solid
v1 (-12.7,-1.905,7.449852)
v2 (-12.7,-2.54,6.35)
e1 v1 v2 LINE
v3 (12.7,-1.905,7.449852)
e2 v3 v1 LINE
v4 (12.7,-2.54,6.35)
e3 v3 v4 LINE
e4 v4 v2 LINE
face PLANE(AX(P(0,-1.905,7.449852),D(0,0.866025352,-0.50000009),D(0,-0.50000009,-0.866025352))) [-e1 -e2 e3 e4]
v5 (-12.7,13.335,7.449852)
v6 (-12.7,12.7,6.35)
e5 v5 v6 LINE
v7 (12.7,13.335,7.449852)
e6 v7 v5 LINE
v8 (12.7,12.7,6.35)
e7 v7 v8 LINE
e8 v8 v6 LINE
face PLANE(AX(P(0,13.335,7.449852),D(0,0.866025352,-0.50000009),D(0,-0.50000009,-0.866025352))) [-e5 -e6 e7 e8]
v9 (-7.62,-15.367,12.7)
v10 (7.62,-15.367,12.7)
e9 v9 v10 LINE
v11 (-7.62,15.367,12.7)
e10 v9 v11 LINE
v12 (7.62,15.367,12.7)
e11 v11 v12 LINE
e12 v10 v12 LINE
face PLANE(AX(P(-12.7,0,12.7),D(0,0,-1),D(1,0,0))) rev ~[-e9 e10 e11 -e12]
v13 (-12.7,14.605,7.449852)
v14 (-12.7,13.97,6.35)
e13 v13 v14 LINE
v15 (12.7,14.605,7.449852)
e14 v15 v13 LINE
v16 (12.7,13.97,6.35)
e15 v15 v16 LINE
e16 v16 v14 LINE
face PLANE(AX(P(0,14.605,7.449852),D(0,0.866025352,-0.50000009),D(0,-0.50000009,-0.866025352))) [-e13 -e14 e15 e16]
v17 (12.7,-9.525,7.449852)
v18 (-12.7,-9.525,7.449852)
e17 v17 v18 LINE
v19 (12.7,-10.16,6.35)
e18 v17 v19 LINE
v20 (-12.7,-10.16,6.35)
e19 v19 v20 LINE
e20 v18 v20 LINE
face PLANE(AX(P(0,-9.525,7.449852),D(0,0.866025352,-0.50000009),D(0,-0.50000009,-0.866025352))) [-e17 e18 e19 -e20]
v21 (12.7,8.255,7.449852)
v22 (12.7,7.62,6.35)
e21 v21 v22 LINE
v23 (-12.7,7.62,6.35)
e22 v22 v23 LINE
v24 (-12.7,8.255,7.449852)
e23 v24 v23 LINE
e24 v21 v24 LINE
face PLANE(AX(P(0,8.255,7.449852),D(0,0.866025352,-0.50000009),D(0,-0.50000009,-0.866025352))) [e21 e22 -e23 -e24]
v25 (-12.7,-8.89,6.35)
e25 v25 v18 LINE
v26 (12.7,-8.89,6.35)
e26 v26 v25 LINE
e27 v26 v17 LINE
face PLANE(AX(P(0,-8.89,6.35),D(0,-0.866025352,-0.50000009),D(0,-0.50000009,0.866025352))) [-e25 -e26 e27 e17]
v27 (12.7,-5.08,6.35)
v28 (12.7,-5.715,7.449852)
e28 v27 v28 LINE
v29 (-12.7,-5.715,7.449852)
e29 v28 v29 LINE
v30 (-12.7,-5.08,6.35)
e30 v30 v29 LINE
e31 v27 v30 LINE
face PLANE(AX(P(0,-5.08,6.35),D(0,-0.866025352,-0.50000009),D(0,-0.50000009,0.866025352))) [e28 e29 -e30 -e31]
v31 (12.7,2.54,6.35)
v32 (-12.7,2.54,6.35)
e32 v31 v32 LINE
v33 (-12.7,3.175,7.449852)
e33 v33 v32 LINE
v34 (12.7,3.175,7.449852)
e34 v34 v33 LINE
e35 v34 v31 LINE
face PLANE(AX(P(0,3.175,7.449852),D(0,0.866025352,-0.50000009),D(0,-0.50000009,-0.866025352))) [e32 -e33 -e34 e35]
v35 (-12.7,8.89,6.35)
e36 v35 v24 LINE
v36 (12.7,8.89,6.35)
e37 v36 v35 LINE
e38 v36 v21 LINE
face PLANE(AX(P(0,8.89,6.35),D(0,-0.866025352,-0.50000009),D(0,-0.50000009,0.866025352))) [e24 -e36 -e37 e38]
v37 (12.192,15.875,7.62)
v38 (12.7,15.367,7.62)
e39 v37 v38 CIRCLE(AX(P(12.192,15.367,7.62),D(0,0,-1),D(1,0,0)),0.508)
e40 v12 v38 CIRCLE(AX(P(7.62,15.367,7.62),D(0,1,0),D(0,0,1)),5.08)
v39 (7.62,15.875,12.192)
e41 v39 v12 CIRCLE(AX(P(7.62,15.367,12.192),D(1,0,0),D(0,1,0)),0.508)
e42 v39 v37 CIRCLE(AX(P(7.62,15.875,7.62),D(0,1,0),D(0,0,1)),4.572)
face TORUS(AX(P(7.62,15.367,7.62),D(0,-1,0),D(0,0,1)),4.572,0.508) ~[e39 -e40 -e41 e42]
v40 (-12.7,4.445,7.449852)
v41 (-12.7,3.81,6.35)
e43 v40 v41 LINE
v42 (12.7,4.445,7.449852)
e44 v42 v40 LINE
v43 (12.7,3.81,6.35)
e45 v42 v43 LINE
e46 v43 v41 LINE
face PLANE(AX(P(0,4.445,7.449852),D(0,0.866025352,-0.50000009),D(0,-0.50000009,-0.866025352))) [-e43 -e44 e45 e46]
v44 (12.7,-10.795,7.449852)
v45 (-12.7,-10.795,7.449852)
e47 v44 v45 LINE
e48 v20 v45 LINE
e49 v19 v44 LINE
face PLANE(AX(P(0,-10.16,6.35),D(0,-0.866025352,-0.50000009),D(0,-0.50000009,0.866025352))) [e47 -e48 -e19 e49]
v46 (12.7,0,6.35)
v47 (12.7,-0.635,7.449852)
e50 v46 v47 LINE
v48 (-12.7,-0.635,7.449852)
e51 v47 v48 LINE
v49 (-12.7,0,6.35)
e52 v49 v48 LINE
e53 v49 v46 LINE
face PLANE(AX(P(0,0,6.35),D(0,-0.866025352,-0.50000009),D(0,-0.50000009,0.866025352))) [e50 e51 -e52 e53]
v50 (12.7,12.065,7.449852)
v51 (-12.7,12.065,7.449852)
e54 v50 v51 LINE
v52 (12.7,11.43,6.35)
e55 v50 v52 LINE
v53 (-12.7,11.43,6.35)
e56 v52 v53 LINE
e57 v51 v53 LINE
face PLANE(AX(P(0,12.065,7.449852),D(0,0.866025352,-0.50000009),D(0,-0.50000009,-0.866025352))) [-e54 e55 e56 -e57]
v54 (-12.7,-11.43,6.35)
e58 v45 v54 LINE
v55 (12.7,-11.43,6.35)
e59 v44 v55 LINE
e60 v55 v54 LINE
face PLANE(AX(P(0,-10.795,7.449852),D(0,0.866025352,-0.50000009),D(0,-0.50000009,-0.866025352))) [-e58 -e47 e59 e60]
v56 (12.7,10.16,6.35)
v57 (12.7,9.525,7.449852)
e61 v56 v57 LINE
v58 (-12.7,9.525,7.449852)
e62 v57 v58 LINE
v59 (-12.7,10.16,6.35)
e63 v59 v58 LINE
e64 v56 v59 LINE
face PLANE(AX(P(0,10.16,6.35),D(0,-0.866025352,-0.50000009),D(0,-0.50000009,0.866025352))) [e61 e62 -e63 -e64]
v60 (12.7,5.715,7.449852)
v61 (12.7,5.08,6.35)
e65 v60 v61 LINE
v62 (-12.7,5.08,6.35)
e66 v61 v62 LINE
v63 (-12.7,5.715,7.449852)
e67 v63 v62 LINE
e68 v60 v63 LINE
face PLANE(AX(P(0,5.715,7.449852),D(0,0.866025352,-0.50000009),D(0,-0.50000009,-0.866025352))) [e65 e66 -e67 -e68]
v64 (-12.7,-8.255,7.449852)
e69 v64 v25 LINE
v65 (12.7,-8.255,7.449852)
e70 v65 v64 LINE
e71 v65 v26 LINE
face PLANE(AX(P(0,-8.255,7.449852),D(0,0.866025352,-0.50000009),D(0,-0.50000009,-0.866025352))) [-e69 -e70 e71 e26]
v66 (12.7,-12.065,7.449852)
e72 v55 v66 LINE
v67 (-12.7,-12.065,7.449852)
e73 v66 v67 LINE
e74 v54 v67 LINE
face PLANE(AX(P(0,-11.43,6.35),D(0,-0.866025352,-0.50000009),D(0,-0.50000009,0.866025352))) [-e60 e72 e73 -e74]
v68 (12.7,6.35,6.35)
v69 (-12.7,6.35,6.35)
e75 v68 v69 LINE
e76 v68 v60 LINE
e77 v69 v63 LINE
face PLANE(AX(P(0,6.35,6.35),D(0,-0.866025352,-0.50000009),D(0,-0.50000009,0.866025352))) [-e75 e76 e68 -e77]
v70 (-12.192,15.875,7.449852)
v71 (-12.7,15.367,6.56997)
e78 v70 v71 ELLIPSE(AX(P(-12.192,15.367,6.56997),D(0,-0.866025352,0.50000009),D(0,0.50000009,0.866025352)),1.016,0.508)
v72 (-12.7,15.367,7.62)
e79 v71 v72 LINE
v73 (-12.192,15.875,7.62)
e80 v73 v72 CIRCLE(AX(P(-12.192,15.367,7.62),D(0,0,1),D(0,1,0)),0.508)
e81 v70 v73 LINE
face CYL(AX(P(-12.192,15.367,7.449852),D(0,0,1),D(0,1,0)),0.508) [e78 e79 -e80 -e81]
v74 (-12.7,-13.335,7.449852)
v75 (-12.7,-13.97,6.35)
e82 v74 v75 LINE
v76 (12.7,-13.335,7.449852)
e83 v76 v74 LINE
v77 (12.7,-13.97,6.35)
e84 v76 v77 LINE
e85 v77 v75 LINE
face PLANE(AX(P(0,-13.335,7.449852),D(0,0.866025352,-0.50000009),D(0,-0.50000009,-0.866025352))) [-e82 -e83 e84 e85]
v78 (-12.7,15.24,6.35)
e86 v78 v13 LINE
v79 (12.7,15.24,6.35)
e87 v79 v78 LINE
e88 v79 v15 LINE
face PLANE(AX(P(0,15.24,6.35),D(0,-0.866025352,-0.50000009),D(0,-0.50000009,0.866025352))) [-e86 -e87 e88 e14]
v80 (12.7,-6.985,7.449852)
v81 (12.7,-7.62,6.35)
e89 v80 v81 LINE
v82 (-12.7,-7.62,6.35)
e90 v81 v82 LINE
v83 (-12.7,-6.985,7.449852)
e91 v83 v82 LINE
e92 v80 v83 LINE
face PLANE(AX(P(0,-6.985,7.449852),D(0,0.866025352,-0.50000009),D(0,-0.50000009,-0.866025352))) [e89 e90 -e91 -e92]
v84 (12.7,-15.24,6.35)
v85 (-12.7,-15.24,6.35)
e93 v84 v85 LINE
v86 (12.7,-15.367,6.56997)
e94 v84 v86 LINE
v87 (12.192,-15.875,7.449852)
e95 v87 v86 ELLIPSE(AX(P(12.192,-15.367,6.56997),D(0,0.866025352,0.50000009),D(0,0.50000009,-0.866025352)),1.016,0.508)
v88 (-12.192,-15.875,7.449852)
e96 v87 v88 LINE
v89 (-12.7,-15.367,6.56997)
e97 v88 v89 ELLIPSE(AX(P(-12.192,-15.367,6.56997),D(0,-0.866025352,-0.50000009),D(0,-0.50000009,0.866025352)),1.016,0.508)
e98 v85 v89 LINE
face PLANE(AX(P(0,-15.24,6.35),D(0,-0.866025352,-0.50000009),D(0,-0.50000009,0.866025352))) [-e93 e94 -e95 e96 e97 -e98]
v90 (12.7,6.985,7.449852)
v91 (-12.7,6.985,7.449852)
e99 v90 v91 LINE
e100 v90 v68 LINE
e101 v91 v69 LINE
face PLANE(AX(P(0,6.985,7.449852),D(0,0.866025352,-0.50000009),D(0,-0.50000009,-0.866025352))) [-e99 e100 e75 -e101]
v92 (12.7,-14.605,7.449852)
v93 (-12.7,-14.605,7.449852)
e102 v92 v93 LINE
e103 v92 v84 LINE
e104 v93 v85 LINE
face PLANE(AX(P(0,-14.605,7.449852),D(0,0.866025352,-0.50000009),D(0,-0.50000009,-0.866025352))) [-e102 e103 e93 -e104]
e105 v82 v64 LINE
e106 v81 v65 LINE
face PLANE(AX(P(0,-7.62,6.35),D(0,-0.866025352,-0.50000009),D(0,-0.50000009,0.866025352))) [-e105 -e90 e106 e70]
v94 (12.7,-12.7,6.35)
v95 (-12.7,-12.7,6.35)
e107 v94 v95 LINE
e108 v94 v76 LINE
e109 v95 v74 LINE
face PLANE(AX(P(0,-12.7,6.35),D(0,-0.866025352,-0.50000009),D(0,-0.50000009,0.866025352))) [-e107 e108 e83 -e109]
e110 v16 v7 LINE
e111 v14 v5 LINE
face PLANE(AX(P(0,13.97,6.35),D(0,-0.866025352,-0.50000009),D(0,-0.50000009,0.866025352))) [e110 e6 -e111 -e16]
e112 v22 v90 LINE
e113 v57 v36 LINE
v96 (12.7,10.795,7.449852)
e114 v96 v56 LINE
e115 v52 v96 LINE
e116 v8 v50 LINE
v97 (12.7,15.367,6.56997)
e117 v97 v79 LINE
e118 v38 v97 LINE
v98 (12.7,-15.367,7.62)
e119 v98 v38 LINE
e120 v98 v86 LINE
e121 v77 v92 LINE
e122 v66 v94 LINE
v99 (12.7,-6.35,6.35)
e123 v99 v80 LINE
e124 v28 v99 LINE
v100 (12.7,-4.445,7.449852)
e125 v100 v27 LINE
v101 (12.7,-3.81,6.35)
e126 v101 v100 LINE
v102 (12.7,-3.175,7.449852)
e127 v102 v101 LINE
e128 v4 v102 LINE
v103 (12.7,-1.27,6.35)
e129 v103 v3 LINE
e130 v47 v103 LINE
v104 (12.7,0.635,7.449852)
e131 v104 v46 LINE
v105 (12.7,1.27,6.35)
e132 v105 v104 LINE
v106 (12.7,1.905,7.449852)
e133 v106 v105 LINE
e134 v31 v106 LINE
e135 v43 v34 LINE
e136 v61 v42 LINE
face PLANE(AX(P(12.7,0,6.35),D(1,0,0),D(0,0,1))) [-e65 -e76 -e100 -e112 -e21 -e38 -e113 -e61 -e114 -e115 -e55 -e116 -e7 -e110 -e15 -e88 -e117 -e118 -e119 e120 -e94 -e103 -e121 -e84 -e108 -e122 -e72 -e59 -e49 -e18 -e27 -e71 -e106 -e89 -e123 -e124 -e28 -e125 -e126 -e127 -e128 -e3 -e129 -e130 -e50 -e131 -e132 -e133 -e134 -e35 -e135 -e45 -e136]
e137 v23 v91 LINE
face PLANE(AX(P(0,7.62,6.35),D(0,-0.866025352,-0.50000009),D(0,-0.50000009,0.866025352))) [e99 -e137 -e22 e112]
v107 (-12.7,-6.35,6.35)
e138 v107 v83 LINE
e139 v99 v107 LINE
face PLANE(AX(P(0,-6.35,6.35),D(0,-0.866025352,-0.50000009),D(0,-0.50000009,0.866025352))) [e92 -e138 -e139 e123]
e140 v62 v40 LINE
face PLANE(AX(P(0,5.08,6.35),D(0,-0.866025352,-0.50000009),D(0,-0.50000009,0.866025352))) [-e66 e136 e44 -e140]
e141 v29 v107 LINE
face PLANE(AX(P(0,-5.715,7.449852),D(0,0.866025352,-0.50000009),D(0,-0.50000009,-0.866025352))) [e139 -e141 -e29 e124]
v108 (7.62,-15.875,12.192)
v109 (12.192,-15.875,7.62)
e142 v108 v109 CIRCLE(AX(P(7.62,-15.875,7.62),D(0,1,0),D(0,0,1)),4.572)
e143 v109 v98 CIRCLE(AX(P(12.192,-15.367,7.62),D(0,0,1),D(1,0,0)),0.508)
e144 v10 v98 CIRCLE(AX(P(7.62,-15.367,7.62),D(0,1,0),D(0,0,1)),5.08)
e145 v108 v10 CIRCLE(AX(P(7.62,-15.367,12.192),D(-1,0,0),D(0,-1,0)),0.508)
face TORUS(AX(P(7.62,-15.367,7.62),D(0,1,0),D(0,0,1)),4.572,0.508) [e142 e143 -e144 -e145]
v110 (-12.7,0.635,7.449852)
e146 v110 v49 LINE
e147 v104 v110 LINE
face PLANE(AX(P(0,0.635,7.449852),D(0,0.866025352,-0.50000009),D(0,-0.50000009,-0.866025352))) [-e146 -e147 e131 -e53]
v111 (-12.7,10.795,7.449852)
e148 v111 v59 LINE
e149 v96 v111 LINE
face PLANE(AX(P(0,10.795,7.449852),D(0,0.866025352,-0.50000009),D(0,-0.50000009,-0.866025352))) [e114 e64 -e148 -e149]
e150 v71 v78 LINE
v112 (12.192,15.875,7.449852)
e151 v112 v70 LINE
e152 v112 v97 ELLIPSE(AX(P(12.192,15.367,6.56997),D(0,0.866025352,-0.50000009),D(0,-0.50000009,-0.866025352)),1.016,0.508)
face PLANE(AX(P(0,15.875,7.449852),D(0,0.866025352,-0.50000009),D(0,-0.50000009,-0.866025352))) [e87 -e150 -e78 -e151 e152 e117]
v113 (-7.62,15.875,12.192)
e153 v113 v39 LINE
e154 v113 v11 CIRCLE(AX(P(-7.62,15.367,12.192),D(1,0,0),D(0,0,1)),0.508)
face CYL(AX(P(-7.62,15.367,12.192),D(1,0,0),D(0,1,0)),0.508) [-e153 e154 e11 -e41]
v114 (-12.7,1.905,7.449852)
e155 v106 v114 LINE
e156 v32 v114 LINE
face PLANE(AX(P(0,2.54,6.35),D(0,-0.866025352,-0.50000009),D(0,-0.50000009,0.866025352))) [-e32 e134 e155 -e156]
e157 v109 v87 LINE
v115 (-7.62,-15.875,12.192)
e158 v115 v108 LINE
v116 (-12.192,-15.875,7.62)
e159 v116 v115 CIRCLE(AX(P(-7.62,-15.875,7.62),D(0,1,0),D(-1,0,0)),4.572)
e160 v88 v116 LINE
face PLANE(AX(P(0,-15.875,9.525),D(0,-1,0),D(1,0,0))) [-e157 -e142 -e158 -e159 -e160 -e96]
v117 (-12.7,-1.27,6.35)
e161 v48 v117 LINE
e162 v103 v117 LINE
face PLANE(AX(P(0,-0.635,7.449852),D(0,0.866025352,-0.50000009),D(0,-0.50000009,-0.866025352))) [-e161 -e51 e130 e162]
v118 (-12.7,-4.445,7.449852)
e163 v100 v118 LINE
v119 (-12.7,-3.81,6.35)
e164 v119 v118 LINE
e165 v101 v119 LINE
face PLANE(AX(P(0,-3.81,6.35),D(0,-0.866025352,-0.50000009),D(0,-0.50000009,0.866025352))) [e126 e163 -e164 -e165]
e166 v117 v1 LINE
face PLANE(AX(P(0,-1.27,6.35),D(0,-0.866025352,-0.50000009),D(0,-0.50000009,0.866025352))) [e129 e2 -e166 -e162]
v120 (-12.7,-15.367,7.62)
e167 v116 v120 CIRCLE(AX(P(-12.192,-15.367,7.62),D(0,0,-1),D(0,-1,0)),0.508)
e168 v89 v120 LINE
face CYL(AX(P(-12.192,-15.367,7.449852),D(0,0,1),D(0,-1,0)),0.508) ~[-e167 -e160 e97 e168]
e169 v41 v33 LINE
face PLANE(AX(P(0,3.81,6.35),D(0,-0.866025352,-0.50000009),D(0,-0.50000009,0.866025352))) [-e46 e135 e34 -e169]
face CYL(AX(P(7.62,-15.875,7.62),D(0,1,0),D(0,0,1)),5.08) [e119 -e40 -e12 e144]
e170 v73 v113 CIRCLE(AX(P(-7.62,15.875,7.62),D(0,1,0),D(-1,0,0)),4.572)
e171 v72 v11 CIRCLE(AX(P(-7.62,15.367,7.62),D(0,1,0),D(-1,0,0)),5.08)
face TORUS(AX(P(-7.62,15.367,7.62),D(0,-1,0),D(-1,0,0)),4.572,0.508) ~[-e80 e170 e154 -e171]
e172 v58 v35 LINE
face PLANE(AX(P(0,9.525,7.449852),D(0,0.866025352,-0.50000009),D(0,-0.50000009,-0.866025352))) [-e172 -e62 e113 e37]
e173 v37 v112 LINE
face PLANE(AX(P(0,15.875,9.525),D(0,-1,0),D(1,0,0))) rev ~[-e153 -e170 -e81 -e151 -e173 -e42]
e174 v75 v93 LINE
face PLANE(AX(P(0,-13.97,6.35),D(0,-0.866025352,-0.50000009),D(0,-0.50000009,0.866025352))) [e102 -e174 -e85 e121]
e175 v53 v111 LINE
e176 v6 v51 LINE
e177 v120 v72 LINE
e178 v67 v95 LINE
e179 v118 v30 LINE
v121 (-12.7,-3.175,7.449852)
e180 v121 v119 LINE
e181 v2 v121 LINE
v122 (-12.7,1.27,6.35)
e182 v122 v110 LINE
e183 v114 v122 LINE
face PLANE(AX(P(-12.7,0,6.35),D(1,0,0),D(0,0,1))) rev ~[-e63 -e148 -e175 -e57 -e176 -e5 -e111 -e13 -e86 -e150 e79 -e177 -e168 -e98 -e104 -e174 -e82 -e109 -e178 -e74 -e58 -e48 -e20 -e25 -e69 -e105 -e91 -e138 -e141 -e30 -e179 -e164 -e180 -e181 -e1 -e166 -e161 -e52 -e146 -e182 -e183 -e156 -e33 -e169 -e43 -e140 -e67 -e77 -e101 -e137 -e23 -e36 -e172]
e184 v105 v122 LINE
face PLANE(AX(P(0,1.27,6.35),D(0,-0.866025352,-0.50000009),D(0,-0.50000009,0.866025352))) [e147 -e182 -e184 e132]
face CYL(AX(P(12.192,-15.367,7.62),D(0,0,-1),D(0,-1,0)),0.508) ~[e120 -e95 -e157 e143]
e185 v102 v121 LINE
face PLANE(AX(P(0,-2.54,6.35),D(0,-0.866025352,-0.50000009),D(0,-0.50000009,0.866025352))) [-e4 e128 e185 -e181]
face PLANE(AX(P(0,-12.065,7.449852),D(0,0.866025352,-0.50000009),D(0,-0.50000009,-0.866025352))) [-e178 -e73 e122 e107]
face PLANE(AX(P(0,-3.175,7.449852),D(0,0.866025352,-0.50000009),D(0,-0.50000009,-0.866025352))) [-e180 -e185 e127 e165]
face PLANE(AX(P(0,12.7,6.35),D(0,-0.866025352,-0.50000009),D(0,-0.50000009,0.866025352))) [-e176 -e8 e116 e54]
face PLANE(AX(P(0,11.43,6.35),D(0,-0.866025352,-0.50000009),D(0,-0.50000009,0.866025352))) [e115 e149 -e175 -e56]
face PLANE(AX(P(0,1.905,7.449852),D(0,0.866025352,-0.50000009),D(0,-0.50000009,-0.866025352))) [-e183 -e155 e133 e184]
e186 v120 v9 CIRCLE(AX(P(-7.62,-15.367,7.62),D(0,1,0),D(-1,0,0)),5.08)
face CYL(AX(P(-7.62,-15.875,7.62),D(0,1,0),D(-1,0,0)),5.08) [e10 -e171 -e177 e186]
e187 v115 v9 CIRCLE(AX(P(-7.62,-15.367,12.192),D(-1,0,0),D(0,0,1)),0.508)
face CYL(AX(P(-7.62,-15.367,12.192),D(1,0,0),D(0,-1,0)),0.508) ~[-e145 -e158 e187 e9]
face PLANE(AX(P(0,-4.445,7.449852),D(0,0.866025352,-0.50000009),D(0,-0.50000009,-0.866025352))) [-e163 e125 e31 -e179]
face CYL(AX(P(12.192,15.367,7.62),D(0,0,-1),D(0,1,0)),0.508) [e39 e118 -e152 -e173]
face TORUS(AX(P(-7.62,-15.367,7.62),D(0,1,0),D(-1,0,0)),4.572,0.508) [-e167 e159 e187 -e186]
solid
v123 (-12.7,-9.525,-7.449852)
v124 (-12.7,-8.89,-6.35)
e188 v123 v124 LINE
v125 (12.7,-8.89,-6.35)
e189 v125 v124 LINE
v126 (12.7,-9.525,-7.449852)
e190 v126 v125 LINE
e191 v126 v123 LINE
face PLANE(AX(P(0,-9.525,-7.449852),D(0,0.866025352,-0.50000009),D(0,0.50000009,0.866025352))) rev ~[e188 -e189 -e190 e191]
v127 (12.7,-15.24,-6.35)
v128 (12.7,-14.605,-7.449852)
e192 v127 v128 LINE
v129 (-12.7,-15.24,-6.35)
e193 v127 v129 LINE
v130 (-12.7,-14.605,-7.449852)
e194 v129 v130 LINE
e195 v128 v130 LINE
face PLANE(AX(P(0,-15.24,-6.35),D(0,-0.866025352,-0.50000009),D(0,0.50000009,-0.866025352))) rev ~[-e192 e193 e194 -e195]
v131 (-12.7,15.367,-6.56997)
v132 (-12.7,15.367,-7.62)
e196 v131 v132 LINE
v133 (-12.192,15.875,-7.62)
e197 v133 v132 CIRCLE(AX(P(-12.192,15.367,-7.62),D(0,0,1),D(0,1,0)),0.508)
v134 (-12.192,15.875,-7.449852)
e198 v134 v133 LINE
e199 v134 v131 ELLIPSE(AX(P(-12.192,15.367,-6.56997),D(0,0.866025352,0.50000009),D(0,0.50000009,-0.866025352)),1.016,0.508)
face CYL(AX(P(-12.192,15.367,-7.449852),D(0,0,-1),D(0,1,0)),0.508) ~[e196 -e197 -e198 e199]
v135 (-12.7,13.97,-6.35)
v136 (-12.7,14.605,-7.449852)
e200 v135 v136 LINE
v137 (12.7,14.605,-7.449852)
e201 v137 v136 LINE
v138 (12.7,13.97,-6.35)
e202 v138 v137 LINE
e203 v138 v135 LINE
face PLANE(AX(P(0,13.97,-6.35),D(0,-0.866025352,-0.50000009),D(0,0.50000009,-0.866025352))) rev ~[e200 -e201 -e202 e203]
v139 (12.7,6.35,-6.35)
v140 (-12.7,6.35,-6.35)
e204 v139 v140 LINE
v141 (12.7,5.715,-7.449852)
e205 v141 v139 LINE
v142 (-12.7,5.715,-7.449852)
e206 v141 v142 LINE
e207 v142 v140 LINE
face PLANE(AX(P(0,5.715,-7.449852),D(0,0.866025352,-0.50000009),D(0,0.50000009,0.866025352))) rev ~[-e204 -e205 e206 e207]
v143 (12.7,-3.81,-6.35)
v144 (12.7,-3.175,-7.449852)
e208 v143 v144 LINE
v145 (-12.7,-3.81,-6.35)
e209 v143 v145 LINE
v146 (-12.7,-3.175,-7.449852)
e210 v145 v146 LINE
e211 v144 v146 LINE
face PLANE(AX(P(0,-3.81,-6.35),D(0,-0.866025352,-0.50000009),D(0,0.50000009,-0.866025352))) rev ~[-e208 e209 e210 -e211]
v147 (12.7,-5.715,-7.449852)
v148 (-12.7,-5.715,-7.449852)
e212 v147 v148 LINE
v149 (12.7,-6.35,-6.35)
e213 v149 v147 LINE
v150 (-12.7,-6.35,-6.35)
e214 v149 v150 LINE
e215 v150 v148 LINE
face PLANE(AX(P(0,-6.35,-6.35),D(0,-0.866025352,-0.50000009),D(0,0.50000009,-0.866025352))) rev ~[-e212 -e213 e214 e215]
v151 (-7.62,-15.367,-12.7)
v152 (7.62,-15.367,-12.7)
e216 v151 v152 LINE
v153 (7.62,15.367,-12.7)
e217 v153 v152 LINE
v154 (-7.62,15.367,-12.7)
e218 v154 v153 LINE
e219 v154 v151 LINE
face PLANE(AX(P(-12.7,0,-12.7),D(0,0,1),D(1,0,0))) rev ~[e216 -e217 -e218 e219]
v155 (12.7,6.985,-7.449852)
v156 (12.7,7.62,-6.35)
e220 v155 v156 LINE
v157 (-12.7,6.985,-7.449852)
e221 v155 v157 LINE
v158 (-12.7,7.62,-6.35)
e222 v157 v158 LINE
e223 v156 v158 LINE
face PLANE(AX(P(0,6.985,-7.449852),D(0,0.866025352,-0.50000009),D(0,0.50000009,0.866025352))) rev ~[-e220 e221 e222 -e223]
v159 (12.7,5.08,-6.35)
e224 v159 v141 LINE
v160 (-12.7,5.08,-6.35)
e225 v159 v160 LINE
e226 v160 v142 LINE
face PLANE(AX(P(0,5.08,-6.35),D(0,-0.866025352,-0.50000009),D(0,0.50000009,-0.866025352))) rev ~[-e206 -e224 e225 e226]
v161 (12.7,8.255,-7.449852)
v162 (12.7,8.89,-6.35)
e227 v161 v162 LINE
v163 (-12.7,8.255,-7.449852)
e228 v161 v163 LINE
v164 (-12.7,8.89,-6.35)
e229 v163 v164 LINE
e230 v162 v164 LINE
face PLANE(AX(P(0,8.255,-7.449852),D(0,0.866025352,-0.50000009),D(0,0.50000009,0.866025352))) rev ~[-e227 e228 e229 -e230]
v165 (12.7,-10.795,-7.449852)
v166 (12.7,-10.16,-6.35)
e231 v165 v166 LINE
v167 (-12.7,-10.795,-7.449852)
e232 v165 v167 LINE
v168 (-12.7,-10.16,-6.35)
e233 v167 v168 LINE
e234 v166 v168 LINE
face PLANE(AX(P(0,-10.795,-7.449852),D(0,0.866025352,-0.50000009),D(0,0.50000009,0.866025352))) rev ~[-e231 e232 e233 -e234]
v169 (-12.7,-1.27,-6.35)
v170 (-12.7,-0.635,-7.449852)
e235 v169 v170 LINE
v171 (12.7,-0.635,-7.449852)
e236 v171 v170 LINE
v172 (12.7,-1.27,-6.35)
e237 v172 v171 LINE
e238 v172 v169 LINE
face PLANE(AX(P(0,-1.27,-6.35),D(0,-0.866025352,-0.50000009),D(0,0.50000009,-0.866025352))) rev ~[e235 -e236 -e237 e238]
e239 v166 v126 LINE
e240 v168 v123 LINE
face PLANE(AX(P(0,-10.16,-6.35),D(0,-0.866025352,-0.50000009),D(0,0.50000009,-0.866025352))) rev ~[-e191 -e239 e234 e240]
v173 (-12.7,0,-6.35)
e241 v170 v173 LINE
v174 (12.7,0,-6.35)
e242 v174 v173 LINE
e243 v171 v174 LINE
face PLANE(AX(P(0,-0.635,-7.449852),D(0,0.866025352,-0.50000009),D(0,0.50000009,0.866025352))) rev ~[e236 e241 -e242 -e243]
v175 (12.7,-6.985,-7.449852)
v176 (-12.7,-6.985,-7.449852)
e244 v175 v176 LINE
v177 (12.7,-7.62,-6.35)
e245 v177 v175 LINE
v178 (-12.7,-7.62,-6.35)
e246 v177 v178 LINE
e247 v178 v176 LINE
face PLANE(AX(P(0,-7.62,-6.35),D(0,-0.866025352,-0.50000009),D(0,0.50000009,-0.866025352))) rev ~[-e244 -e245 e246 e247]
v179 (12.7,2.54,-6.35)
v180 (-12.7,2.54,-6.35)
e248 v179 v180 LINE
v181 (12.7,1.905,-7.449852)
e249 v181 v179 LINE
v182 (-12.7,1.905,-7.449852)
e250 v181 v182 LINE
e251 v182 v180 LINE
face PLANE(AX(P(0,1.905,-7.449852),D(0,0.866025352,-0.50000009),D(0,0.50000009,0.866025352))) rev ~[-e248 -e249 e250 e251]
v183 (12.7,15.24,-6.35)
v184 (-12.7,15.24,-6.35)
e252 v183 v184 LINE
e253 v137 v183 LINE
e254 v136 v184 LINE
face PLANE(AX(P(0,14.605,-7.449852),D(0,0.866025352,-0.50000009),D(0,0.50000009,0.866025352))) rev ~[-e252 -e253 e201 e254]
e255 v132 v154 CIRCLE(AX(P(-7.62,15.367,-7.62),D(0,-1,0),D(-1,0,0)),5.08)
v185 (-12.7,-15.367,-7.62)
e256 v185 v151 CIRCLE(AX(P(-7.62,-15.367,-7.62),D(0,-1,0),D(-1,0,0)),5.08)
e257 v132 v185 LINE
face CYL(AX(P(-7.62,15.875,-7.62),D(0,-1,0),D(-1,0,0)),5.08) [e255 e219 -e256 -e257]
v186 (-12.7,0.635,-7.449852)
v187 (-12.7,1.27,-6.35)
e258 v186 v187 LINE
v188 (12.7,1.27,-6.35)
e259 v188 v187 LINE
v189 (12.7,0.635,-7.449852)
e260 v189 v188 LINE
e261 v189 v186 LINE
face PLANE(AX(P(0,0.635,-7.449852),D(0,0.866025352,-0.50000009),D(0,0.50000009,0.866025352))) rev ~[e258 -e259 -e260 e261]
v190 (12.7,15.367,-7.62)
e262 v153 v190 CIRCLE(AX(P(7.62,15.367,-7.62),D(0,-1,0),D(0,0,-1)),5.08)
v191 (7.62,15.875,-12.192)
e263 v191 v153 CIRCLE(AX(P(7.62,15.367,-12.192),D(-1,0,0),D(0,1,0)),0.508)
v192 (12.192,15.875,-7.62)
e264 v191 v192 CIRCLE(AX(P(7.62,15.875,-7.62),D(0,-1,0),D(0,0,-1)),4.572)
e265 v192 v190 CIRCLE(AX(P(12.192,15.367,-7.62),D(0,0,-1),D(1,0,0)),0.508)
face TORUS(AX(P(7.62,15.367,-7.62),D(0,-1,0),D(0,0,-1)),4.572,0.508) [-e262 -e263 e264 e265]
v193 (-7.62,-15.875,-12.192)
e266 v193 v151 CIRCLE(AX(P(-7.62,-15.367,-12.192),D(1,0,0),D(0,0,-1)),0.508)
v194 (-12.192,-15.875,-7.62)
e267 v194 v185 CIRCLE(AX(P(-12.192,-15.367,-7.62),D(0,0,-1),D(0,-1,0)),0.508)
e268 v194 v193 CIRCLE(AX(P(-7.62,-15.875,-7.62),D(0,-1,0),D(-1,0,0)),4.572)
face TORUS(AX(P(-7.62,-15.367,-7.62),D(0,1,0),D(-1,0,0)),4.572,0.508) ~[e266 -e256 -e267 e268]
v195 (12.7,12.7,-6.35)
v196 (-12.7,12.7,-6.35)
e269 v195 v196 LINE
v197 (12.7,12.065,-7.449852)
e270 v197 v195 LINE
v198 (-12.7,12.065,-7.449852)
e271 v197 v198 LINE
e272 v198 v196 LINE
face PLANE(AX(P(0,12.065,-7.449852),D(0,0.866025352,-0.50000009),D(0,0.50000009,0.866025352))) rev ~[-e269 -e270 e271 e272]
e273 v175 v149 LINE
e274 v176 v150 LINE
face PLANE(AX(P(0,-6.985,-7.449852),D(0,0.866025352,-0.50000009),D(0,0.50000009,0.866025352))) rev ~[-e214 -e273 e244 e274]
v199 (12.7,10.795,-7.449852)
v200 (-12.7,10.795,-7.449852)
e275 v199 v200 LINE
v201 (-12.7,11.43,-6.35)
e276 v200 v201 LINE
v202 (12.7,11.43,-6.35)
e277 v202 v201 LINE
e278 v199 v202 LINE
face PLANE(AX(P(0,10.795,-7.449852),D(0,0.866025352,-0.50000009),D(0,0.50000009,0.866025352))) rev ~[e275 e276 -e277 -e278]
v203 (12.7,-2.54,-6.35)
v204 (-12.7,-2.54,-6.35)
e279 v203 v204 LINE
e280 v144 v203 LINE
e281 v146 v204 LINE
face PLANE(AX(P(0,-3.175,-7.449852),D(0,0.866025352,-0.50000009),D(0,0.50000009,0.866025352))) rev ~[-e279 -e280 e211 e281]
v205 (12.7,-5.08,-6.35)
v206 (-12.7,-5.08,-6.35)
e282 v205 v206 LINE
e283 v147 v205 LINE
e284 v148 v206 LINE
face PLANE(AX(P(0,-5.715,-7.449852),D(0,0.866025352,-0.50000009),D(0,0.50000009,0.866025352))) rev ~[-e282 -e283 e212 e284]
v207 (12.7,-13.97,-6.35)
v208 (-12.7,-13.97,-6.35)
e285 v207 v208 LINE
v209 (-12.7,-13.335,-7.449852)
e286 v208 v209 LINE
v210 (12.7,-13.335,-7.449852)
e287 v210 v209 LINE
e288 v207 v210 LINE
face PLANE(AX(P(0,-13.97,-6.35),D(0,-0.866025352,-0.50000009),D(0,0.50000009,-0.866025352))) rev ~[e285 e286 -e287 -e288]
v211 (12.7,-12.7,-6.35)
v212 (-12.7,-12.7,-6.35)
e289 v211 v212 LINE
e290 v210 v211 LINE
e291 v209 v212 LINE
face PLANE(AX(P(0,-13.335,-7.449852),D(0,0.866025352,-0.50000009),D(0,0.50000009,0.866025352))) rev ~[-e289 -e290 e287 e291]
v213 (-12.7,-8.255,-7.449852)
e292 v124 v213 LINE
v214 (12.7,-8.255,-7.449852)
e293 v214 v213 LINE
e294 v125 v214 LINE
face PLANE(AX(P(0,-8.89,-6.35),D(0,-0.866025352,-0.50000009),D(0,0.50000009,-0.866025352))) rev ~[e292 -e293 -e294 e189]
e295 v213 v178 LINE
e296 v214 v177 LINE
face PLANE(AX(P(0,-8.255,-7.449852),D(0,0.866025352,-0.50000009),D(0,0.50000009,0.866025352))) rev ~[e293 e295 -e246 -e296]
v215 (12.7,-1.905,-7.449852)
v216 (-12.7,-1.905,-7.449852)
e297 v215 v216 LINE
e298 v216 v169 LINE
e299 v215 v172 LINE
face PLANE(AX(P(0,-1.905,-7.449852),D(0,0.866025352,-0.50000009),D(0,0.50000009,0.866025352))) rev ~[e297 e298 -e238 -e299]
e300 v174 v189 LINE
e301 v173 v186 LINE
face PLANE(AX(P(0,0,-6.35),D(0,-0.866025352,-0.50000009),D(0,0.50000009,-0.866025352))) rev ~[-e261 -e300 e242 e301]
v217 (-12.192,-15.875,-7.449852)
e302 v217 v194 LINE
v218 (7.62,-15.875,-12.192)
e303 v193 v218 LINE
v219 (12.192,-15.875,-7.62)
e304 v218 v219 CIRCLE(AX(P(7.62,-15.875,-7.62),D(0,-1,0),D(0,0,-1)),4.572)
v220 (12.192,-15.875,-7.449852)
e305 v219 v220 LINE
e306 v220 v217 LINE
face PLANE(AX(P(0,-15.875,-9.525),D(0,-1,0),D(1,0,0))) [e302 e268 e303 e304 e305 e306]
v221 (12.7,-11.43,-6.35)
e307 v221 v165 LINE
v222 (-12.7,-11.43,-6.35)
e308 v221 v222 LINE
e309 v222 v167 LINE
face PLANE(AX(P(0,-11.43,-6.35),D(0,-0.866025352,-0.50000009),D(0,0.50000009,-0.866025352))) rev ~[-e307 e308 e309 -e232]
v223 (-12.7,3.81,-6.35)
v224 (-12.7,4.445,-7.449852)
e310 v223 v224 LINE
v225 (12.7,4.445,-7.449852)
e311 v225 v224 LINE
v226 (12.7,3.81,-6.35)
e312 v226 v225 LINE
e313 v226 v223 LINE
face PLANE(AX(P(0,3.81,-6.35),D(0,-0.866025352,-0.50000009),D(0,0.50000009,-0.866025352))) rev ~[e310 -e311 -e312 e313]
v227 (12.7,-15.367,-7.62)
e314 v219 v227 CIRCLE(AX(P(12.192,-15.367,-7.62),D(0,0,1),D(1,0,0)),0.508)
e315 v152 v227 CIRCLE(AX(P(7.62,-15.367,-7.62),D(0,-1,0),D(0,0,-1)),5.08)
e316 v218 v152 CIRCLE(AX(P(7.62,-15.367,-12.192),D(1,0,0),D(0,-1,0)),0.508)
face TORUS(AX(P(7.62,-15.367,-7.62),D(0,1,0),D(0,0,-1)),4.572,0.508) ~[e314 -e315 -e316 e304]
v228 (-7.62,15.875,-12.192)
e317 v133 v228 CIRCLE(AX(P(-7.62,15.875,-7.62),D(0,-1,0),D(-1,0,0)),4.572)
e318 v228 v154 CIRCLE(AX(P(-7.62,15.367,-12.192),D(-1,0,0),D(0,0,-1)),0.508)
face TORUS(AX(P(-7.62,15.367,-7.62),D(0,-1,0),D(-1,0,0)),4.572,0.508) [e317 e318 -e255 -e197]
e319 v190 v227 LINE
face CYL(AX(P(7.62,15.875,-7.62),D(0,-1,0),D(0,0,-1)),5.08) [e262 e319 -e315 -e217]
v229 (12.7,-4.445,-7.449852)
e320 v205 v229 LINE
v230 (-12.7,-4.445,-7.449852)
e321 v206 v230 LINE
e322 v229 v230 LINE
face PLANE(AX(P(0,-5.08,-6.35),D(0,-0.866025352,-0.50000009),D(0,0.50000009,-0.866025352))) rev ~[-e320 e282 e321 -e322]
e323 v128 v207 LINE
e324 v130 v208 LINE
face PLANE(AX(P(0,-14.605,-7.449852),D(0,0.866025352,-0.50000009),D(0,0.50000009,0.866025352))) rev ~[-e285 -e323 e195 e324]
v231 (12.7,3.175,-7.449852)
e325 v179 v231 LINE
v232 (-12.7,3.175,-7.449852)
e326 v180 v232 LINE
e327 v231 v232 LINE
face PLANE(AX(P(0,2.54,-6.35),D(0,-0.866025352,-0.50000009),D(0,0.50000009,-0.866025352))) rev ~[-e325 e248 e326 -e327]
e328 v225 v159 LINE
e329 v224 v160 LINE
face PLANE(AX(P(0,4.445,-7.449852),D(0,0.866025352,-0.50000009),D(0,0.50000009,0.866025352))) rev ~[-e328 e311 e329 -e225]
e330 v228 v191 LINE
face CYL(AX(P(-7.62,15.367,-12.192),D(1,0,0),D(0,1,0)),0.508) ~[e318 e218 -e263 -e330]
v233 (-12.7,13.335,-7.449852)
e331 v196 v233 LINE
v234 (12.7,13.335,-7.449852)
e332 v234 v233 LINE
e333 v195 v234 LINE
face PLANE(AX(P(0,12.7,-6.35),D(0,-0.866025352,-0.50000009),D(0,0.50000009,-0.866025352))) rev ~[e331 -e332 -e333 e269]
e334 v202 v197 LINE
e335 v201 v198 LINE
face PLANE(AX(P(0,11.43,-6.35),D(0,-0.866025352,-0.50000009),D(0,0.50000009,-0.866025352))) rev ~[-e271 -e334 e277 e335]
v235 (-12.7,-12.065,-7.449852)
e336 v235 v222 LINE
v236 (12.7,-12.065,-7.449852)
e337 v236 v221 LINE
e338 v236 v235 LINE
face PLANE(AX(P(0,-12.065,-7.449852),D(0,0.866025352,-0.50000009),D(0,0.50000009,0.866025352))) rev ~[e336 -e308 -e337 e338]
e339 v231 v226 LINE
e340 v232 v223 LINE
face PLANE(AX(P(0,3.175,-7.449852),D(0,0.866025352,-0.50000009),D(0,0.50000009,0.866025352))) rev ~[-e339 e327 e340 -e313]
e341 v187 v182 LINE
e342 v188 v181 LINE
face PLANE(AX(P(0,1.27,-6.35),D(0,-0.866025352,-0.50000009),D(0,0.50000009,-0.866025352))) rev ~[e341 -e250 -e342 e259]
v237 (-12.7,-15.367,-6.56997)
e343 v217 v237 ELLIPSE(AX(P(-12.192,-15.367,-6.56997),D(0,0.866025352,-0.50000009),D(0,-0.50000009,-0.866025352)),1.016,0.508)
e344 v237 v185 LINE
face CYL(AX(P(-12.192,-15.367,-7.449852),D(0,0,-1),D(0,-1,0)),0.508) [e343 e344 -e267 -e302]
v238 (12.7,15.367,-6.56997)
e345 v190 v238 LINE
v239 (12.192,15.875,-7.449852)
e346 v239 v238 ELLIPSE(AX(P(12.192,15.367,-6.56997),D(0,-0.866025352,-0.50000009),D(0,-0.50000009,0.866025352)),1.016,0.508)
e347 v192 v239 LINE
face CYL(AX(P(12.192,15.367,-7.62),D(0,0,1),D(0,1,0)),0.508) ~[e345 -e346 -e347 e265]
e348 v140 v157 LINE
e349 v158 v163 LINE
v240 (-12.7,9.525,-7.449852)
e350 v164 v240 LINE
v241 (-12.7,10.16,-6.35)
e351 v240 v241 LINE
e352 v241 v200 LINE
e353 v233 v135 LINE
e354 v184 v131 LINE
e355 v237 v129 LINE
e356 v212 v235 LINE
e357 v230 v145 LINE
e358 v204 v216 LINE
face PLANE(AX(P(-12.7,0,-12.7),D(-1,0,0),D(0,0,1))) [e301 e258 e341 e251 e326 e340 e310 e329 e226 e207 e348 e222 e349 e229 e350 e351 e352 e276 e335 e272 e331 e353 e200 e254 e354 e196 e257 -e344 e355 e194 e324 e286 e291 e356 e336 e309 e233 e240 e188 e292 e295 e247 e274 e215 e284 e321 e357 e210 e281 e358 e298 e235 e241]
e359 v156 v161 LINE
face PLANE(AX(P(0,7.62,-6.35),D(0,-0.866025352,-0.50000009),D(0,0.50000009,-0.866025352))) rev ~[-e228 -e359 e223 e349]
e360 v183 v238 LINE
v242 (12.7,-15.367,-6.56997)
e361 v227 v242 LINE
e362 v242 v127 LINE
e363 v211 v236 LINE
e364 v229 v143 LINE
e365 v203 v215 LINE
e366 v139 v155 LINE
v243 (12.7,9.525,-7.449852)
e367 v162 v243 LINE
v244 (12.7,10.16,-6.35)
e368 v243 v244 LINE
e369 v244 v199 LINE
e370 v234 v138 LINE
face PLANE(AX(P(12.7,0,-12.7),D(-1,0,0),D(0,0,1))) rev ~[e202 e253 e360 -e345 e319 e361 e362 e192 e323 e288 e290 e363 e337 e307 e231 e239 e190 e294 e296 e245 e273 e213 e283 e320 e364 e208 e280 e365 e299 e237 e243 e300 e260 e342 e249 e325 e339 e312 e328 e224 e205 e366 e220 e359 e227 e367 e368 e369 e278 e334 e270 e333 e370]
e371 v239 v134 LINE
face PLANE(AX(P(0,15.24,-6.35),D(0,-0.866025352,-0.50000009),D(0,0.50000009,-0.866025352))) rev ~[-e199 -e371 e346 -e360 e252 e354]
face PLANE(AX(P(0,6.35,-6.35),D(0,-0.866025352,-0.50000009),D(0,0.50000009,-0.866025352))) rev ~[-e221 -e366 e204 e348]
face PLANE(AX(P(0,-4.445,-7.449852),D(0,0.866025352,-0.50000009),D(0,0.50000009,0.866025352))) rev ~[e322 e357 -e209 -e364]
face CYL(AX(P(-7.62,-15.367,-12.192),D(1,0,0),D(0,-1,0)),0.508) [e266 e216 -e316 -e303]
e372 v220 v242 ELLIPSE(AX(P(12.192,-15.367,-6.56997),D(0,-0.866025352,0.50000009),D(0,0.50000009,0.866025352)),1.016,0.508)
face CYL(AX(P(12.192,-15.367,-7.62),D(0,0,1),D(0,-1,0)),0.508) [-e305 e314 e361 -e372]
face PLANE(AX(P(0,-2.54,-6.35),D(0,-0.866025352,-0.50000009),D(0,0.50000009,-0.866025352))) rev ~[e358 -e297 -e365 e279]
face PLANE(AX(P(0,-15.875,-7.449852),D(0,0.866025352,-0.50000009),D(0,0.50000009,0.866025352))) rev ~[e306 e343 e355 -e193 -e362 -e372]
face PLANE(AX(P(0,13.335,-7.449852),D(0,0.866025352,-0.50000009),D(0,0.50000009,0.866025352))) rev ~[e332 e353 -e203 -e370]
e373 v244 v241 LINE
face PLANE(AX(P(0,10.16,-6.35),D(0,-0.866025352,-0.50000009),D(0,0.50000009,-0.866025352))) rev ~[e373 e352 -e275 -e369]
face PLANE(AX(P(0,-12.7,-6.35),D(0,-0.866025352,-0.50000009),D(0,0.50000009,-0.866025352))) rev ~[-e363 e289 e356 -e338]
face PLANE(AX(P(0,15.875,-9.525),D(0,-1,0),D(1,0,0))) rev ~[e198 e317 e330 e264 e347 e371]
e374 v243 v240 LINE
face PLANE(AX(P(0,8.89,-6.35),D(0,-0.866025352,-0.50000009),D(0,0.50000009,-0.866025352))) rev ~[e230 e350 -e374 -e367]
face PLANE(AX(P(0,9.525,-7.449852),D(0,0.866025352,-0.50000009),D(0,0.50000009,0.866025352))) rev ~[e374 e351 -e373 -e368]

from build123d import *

# Parameters (mm, degrees)
F0_W     = 25.4
F0_H     = 6.35
F1_DEPTH = 15.875
F3_DEPTH = 12.7
F4_R     = 5.08
F5_R     = 0.508


with BuildPart() as f1:
    # F0 (on Front) → F1 (new body, symmetric)
    with BuildSketch(Plane.XZ):
        with Locations((0, -9.525)):
            Rectangle(F0_W, F0_H)
        with Locations((0, 9.525)):
            Rectangle(F0_W, F0_H)
    extrude(amount=F1_DEPTH, both=True)

    # F2 (on Right) → F3 (cut, symmetric)
    with BuildSketch(Plane.YZ):
        Polygon((-1.27, 6.35), (0, 6.35), (-0.635, 7.449852), align=None)
        Polygon((29.845, 7.449852), (29.21, 6.35), (30.48, 6.35), align=None)
        Polygon((28.575, 7.449852), (27.94, 6.35), (29.21, 6.35), align=None)
        Polygon((27.305, 7.449852), (26.67, 6.35), (27.94, 6.35), align=None)
        Polygon((26.035, 7.449852), (25.4, 6.35), (26.67, 6.35), align=None)
        Polygon((24.765, 7.449852), (24.13, 6.35), (25.4, 6.35), align=None)
        Polygon((23.495, 7.449852), (22.86, 6.35), (24.13, 6.35), align=None)
        Polygon((22.225, 7.449852), (21.59, 6.35), (22.86, 6.35), align=None)
        Polygon((20.955, 7.449852), (20.32, 6.35), (21.59, 6.35), align=None)
        Polygon((19.685, 7.449852), (19.05, 6.35), (20.32, 6.35), align=None)
        Polygon((18.415, 7.449852), (17.78, 6.35), (19.05, 6.35), align=None)
        Polygon((17.145, 7.449852), (16.51, 6.35), (17.78, 6.35), align=None)
        Polygon((15.875, 7.449852), (15.24, 6.35), (16.51, 6.35), align=None)
        Polygon((14.605, 7.449852), (13.97, 6.35), (15.24, 6.35), align=None)
        Polygon((13.335, 7.449852), (12.7, 6.35), (13.97, 6.35), align=None)
        Polygon((12.065, 7.449852), (11.43, 6.35), (12.7, 6.35), align=None)
        Polygon((10.795, 7.449852), (10.16, 6.35), (11.43, 6.35), align=None)
        Polygon((9.525, 7.449852), (8.89, 6.35), (10.16, 6.35), align=None)
        Polygon((8.255, 7.449852), (7.62, 6.35), (8.89, 6.35), align=None)
        Polygon((6.985, 7.449852), (6.35, 6.35), (7.62, 6.35), align=None)
        Polygon((5.715, 7.449852), (5.08, 6.35), (6.35, 6.35), align=None)
        Polygon((4.445, 7.449852), (3.81, 6.35), (5.08, 6.35), align=None)
        Polygon((3.175, 7.449852), (2.54, 6.35), (3.81, 6.35), align=None)
        Polygon((1.905, 7.449852), (1.27, 6.35), (2.54, 6.35), align=None)
        Polygon((-30.48, 6.35), (-29.21, 6.35), (-29.845, 7.449852), align=None)
        Polygon((-29.21, 6.35), (-27.94, 6.35), (-28.575, 7.449852), align=None)
        Polygon((-27.94, 6.35), (-26.67, 6.35), (-27.305, 7.449852), align=None)
        Polygon((-26.67, 6.35), (-25.4, 6.35), (-26.035, 7.449852), align=None)
        Polygon((-25.4, 6.35), (-24.13, 6.35), (-24.765, 7.449852), align=None)
        Polygon((-24.13, 6.35), (-22.86, 6.35), (-23.495, 7.449852), align=None)
        Polygon((-22.86, 6.35), (-21.59, 6.35), (-22.225, 7.449852), align=None)
        Polygon((-21.59, 6.35), (-20.32, 6.35), (-20.955, 7.449852), align=None)
        Polygon((-20.32, 6.35), (-19.05, 6.35), (-19.685, 7.449852), align=None)
        Polygon((-19.05, 6.35), (-17.78, 6.35), (-18.415, 7.449852), align=None)
        Polygon((-17.78, 6.35), (-16.51, 6.35), (-17.145, 7.449852), align=None)
        Polygon((-16.51, 6.35), (-15.24, 6.35), (-15.875, 7.449852), align=None)
        Polygon((-15.24, 6.35), (-13.97, 6.35), (-14.605, 7.449852), align=None)
        Polygon((-13.97, 6.35), (-12.7, 6.35), (-13.335, 7.449852), align=None)
        Polygon((-12.7, 6.35), (-11.43, 6.35), (-12.065, 7.449852), align=None)
        Polygon((-11.43, 6.35), (-10.16, 6.35), (-10.795, 7.449852), align=None)
        Polygon((-10.16, 6.35), (-8.89, 6.35), (-9.525, 7.449852), align=None)
        Polygon((-8.89, 6.35), (-7.62, 6.35), (-8.255, 7.449852), align=None)
        Polygon((-7.62, 6.35), (-6.35, 6.35), (-6.985, 7.449852), align=None)
        Polygon((-6.35, 6.35), (-5.08, 6.35), (-5.715, 7.449852), align=None)
        Polygon((-5.08, 6.35), (-3.81, 6.35), (-4.445, 7.449852), align=None)
        Polygon((-3.81, 6.35), (-2.54, 6.35), (-3.175, 7.449852), align=None)
        Polygon((-2.54, 6.35), (-1.27, 6.35), (-1.905, 7.449852), align=None)
        Polygon((0.635, 7.449852), (0, 6.35), (1.27, 6.35), align=None)
        Polygon((-65.024, -6.35), (-64.877353, -6.35), (-65.024, -6.096), align=None)
        Polygon((-64.516, -6.975882), (-64.154647, -6.35), (-64.877353, -6.35), align=None)
        Polygon((-63.5, -7.229882), (-62.992, -6.35), (-64.008, -6.35), align=None)
        Polygon((-62.484, -7.229882), (-61.976, -6.35), (-62.992, -6.35), align=None)
        Polygon((-61.468, -7.229882), (-60.96, -6.35), (-61.976, -6.35), align=None)
        Polygon((-60.452, -7.229882), (-59.944, -6.35), (-60.96, -6.35), align=None)
        Polygon((-59.436, -7.229882), (-58.928, -6.35), (-59.944, -6.35), align=None)
        Polygon((-58.42, -7.229882), (-57.912, -6.35), (-58.928, -6.35), align=None)
        Polygon((-57.404, -7.229882), (-56.896, -6.35), (-57.912, -6.35), align=None)
        Polygon((-56.388, -7.229882), (-55.88, -6.35), (-56.896, -6.35), align=None)
        Polygon((-55.372, -7.229882), (-54.864, -6.35), (-55.88, -6.35), align=None)
        Polygon((-54.356, -7.229882), (-53.848, -6.35), (-54.864, -6.35), align=None)
        Polygon((-53.34, -7.229882), (-52.832, -6.35), (-53.848, -6.35), align=None)
        Polygon((-52.324, -7.229882), (-51.816, -6.35), (-52.832, -6.35), align=None)
        Polygon((-51.308, -7.229882), (-50.8, -6.35), (-51.816, -6.35), align=None)
        Polygon((-50.292, -7.229882), (-49.784, -6.35), (-50.8, -6.35), align=None)
        Polygon((-49.276, -7.229882), (-48.768, -6.35), (-49.784, -6.35), align=None)
        Polygon((-48.26, -7.229882), (-47.752, -6.35), (-48.768, -6.35), align=None)
        Polygon((-47.244, -7.229882), (-46.736, -6.35), (-47.752, -6.35), align=None)
        Polygon((-46.228, -7.229882), (-45.72, -6.35), (-46.736, -6.35), align=None)
        Polygon((-45.212, -7.229882), (-44.704, -6.35), (-45.72, -6.35), align=None)
        Polygon((-44.196, -7.229882), (-43.688, -6.35), (-44.704, -6.35), align=None)
        Polygon((-43.18, -7.229882), (-42.672, -6.35), (-43.688, -6.35), align=None)
        Polygon((-42.164, -7.229882), (-41.656, -6.35), (-42.672, -6.35), align=None)
        Polygon((-41.148, -7.229882), (-40.64, -6.35), (-41.656, -6.35), align=None)
        Polygon((-40.132, -7.229882), (-39.624, -6.35), (-40.64, -6.35), align=None)
        Polygon((-39.116, -7.229882), (-38.608, -6.35), (-39.624, -6.35), align=None)
        Polygon((-38.1, -7.229882), (-37.592, -6.35), (-38.608, -6.35), align=None)
        Polygon((-36.068, -7.229882), (-35.56, -6.35), (-36.576, -6.35), align=None)
        Polygon((-30.988, -7.229882), (-30.48, -6.35), (-31.496, -6.35), align=None)
        Polygon((-29.845, -7.449852), (-29.21, -6.35), (-29.464, -6.35), (-29.972, -7.229882), align=None)
        Polygon((-28.575, -7.449852), (-27.94, -6.35), (-29.21, -6.35), align=None)
        Polygon((-27.305, -7.449852), (-26.67, -6.35), (-27.94, -6.35), align=None)
        Polygon((-26.035, -7.449852), (-25.4, -6.35), (-26.67, -6.35), align=None)
        Polygon((-24.765, -7.449852), (-24.13, -6.35), (-25.4, -6.35), align=None)
        Polygon((-23.495, -7.449852), (-22.86, -6.35), (-24.13, -6.35), align=None)
        Polygon((-22.225, -7.449852), (-21.59, -6.35), (-22.86, -6.35), align=None)
        Polygon((-20.955, -7.449852), (-20.32, -6.35), (-21.59, -6.35), align=None)
        Polygon((-19.685, -7.449852), (-19.05, -6.35), (-20.32, -6.35), align=None)
        Polygon((-18.415, -7.449852), (-17.78, -6.35), (-19.05, -6.35), align=None)
        Polygon((-17.145, -7.449852), (-16.51, -6.35), (-17.78, -6.35), align=None)
        Polygon((-15.875, -7.449852), (-15.24, -6.35), (-16.51, -6.35), align=None)
        Polygon((-14.605, -7.449852), (-13.97, -6.35), (-15.24, -6.35), align=None)
        Polygon((-13.335, -7.449852), (-12.7, -6.35), (-13.97, -6.35), align=None)
        Polygon((-12.065, -7.449852), (-11.43, -6.35), (-12.7, -6.35), align=None)
        Polygon((-10.795, -7.449852), (-10.16, -6.35), (-11.43, -6.35), align=None)
        Polygon((-9.525, -7.449852), (-8.89, -6.35), (-10.16, -6.35), align=None)
        Polygon((-8.255, -7.449852), (-7.62, -6.35), (-8.89, -6.35), align=None)
        Polygon((-6.985, -7.449852), (-6.35, -6.35), (-7.62, -6.35), align=None)
        Polygon((-5.715, -7.449852), (-5.08, -6.35), (-6.35, -6.35), align=None)
        Polygon((-4.445, -7.449852), (-3.81, -6.35), (-5.08, -6.35), align=None)
        Polygon((-3.175, -7.449852), (-2.54, -6.35), (-3.81, -6.35), align=None)
        Polygon((-1.905, -7.449852), (-1.27, -6.35), (-2.54, -6.35), align=None)
        Polygon((-0.635, -7.449852), (0, -6.35), (-1.27, -6.35), align=None)
        Polygon((0.635, -7.449852), (1.27, -6.35), (0, -6.35), align=None)
        Polygon((1.905, -7.449852), (2.54, -6.35), (1.27, -6.35), align=None)
        Polygon((3.175, -7.449852), (3.81, -6.35), (2.54, -6.35), align=None)
        Polygon((4.445, -7.449852), (5.08, -6.35), (3.81, -6.35), align=None)
        Polygon((5.715, -7.449852), (6.35, -6.35), (5.08, -6.35), align=None)
        Polygon((6.985, -7.449852), (7.62, -6.35), (6.35, -6.35), align=None)
        Polygon((8.255, -7.449852), (8.89, -6.35), (7.62, -6.35), align=None)
        Polygon((9.525, -7.449852), (10.16, -6.35), (8.89, -6.35), align=None)
        Polygon((10.795, -7.449852), (11.43, -6.35), (10.16, -6.35), align=None)
        Polygon((12.065, -7.449852), (12.7, -6.35), (11.43, -6.35), align=None)
        Polygon((13.335, -7.449852), (13.97, -6.35), (12.7, -6.35), align=None)
        Polygon((14.605, -7.449852), (15.24, -6.35), (13.97, -6.35), align=None)
        Polygon((15.875, -7.449852), (16.51, -6.35), (15.24, -6.35), align=None)
        Polygon((17.145, -7.449852), (17.78, -6.35), (16.51, -6.35), align=None)
        Polygon((18.415, -7.449852), (19.05, -6.35), (17.78, -6.35), align=None)
        Polygon((19.685, -7.449852), (20.32, -6.35), (19.05, -6.35), align=None)
        Polygon((20.955, -7.449852), (21.59, -6.35), (20.32, -6.35), align=None)
        Polygon((22.225, -7.449852), (22.86, -6.35), (21.59, -6.35), align=None)
        Polygon((23.495, -7.449852), (24.13, -6.35), (22.86, -6.35), align=None)
        Polygon((24.765, -7.449852), (25.4, -6.35), (24.13, -6.35), align=None)
        Polygon((26.035, -7.449852), (26.67, -6.35), (25.4, -6.35), align=None)
        Polygon((27.305, -7.449852), (27.94, -6.35), (26.67, -6.35), align=None)
        Polygon((28.575, -7.449852), (29.21, -6.35), (27.94, -6.35), align=None)
        Polygon((29.972, -7.229882), (30.48, -6.35), (29.464, -6.35), align=None)
        Polygon((35.052, -7.229882), (35.56, -6.35), (34.544, -6.35), align=None)
        Polygon((37.084, -7.229882), (37.592, -6.35), (36.83, -6.35), (36.703, -6.56997), align=None)
        Polygon((38.1, -7.229882), (38.608, -6.35), (37.592, -6.35), align=None)
        Polygon((64.008, -6.35), (62.992, -6.35), (63.5, -7.229882), align=None)
        Polygon((62.992, -6.35), (61.976, -6.35), (62.484, -7.229882), align=None)
        Polygon((61.976, -6.35), (60.96, -6.35), (61.468, -7.229882), align=None)
        Polygon((60.96, -6.35), (59.944, -6.35), (60.452, -7.229882), align=None)
        Polygon((59.944, -6.35), (58.928, -6.35), (59.436, -7.229882), align=None)
        Polygon((58.928, -6.35), (57.912, -6.35), (58.42, -7.229882), align=None)
        Polygon((57.912, -6.35), (56.896, -6.35), (57.404, -7.229882), align=None)
        Polygon((56.896, -6.35), (55.88, -6.35), (56.388, -7.229882), align=None)
        Polygon((55.88, -6.35), (54.864, -6.35), (55.372, -7.229882), align=None)
        Polygon((54.864, -6.35), (53.848, -6.35), (54.356, -7.229882), align=None)
        Polygon((53.848, -6.35), (52.832, -6.35), (53.34, -7.229882), align=None)
        Polygon((52.832, -6.35), (51.816, -6.35), (52.324, -7.229882), align=None)
        Polygon((51.816, -6.35), (50.8, -6.35), (51.308, -7.229882), align=None)
        Polygon((50.8, -6.35), (49.784, -6.35), (50.292, -7.229882), align=None)
        Polygon((49.784, -6.35), (48.768, -6.35), (49.276, -7.229882), align=None)
        Polygon((48.768, -6.35), (47.752, -6.35), (48.26, -7.229882), align=None)
        Polygon((47.752, -6.35), (46.736, -6.35), (47.244, -7.229882), align=None)
        Polygon((46.736, -6.35), (45.72, -6.35), (46.228, -7.229882), align=None)
        Polygon((45.72, -6.35), (44.704, -6.35), (45.212, -7.229882), align=None)
        Polygon((44.704, -6.35), (43.688, -6.35), (44.196, -7.229882), align=None)
        Polygon((43.688, -6.35), (42.672, -6.35), (43.18, -7.229882), align=None)
        Polygon((42.672, -6.35), (41.656, -6.35), (42.164, -7.229882), align=None)
        Polygon((41.656, -6.35), (40.64, -6.35), (41.148, -7.229882), align=None)
        Polygon((40.64, -6.35), (39.624, -6.35), (40.132, -7.229882), align=None)
        Polygon((38.608, -6.35), (39.116, -7.229882), (39.624, -6.35), align=None)
        Polygon((36.703, -6.56997), (36.83, -6.35), (36.576, -6.35), align=None)
        Polygon((36.195, -7.449852), (36.703, -6.56997), (36.576, -6.35), (36.068, -7.229882), align=None)
        Polygon((36.068, -7.229882), (36.576, -6.35), (35.56, -6.35), align=None)
        Polygon((34.925, -7.449852), (35.052, -7.229882), (34.544, -6.35), (34.417, -6.56997), align=None)
        Polygon((34.417, -6.56997), (34.544, -6.35), (34.29, -6.35), align=None)
        Polygon((34.036, -7.229882), (34.417, -6.56997), (34.29, -6.35), (33.909, -7.009911), align=None)
        Polygon((33.909, -7.009911), (34.29, -6.35), (33.528, -6.35), align=None)
        Polygon((33.655, -7.449852), (33.909, -7.009911), (33.528, -6.35), (33.274, -6.789941), align=None)
        Polygon((33.274, -6.789941), (33.528, -6.35), (33.02, -6.35), align=None)
        Polygon((33.02, -7.229882), (33.274, -6.789941), (33.02, -6.35), (32.766, -6.789941), align=None)
        Polygon((32.766, -6.789941), (33.02, -6.35), (32.512, -6.35), align=None)
        Polygon((32.385, -7.449852), (32.766, -6.789941), (32.512, -6.35), (32.131, -7.009911), align=None)
        Polygon((32.131, -7.009911), (32.512, -6.35), (31.75, -6.35), align=None)
        Polygon((32.004, -7.229882), (32.131, -7.009911), (31.75, -6.35), (31.623, -6.56997), align=None)
        Polygon((31.623, -6.56997), (31.75, -6.35), (31.496, -6.35), align=None)
        Polygon((31.115, -7.449852), (31.623, -6.56997), (31.496, -6.35), (30.988, -7.229882), align=None)
        Polygon((30.988, -7.229882), (31.496, -6.35), (30.48, -6.35), align=None)
        Polygon((29.845, -7.449852), (29.972, -7.229882), (29.464, -6.35), (29.21, -6.35), align=None)
        Polygon((-29.972, -7.229882), (-29.464, -6.35), (-30.48, -6.35), align=None)
        Polygon((-31.115, -7.449852), (-30.988, -7.229882), (-31.496, -6.35), (-31.623, -6.56997), align=None)
        Polygon((-31.623, -6.56997), (-31.496, -6.35), (-31.75, -6.35), align=None)
        Polygon((-32.004, -7.229882), (-31.623, -6.56997), (-31.75, -6.35), (-32.131, -7.009911), align=None)
        Polygon((-32.131, -7.009911), (-31.75, -6.35), (-32.512, -6.35), align=None)
        Polygon((-32.385, -7.449852), (-32.131, -7.009911), (-32.512, -6.35), (-32.766, -6.789941), align=None)
        Polygon((-32.766, -6.789941), (-32.512, -6.35), (-33.02, -6.35), align=None)
        Polygon((-33.02, -7.229882), (-32.766, -6.789941), (-33.02, -6.35), (-33.274, -6.789941), align=None)
        Polygon((-33.274, -6.789941), (-33.02, -6.35), (-33.528, -6.35), align=None)
        Polygon((-33.655, -7.449852), (-33.274, -6.789941), (-33.528, -6.35), (-33.909, -7.009911), align=None)
        Polygon((-33.909, -7.009911), (-33.528, -6.35), (-34.29, -6.35), align=None)
        Polygon((-34.036, -7.229882), (-33.909, -7.009911), (-34.29, -6.35), (-34.417, -6.56997), align=None)
        Polygon((-34.417, -6.56997), (-34.29, -6.35), (-34.544, -6.35), align=None)
        Polygon((-34.925, -7.449852), (-34.417, -6.56997), (-34.544, -6.35), (-35.052, -7.229882), align=None)
        Polygon((-35.052, -7.229882), (-34.544, -6.35), (-35.56, -6.35), align=None)
        Polygon((-36.195, -7.449852), (-36.068, -7.229882), (-36.576, -6.35), (-36.703, -6.56997), align=None)
        Polygon((-36.703, -6.56997), (-36.576, -6.35), (-36.83, -6.35), align=None)
        Polygon((-37.084, -7.229882), (-36.703, -6.56997), (-36.83, -6.35), (-37.592, -6.35), align=None)
    extrude(amount=F3_DEPTH, both=True, mode=Mode.SUBTRACT)

    # F4
    f4_edges = [f1.edges().sort_by_distance(p)[0] for p in [
        (12.7, 0, 12.7),
        (-12.7, 0, 12.7),
        (12.7, 0, -12.7),
        (-12.7, 0, -12.7),
    ]]
    fillet(f4_edges, radius=F4_R)

    # F5
    f5_edges = [f1.edges().sort_by_distance(p)[0] for p in [
        (0, -15.875, 12.7),
        (0, 15.875, 12.7),
        (0, -15.875, -12.7),
        (0, 15.875, -12.7),
    ]]
    fillet(f5_edges, radius=F5_R)


solid = f1.part
